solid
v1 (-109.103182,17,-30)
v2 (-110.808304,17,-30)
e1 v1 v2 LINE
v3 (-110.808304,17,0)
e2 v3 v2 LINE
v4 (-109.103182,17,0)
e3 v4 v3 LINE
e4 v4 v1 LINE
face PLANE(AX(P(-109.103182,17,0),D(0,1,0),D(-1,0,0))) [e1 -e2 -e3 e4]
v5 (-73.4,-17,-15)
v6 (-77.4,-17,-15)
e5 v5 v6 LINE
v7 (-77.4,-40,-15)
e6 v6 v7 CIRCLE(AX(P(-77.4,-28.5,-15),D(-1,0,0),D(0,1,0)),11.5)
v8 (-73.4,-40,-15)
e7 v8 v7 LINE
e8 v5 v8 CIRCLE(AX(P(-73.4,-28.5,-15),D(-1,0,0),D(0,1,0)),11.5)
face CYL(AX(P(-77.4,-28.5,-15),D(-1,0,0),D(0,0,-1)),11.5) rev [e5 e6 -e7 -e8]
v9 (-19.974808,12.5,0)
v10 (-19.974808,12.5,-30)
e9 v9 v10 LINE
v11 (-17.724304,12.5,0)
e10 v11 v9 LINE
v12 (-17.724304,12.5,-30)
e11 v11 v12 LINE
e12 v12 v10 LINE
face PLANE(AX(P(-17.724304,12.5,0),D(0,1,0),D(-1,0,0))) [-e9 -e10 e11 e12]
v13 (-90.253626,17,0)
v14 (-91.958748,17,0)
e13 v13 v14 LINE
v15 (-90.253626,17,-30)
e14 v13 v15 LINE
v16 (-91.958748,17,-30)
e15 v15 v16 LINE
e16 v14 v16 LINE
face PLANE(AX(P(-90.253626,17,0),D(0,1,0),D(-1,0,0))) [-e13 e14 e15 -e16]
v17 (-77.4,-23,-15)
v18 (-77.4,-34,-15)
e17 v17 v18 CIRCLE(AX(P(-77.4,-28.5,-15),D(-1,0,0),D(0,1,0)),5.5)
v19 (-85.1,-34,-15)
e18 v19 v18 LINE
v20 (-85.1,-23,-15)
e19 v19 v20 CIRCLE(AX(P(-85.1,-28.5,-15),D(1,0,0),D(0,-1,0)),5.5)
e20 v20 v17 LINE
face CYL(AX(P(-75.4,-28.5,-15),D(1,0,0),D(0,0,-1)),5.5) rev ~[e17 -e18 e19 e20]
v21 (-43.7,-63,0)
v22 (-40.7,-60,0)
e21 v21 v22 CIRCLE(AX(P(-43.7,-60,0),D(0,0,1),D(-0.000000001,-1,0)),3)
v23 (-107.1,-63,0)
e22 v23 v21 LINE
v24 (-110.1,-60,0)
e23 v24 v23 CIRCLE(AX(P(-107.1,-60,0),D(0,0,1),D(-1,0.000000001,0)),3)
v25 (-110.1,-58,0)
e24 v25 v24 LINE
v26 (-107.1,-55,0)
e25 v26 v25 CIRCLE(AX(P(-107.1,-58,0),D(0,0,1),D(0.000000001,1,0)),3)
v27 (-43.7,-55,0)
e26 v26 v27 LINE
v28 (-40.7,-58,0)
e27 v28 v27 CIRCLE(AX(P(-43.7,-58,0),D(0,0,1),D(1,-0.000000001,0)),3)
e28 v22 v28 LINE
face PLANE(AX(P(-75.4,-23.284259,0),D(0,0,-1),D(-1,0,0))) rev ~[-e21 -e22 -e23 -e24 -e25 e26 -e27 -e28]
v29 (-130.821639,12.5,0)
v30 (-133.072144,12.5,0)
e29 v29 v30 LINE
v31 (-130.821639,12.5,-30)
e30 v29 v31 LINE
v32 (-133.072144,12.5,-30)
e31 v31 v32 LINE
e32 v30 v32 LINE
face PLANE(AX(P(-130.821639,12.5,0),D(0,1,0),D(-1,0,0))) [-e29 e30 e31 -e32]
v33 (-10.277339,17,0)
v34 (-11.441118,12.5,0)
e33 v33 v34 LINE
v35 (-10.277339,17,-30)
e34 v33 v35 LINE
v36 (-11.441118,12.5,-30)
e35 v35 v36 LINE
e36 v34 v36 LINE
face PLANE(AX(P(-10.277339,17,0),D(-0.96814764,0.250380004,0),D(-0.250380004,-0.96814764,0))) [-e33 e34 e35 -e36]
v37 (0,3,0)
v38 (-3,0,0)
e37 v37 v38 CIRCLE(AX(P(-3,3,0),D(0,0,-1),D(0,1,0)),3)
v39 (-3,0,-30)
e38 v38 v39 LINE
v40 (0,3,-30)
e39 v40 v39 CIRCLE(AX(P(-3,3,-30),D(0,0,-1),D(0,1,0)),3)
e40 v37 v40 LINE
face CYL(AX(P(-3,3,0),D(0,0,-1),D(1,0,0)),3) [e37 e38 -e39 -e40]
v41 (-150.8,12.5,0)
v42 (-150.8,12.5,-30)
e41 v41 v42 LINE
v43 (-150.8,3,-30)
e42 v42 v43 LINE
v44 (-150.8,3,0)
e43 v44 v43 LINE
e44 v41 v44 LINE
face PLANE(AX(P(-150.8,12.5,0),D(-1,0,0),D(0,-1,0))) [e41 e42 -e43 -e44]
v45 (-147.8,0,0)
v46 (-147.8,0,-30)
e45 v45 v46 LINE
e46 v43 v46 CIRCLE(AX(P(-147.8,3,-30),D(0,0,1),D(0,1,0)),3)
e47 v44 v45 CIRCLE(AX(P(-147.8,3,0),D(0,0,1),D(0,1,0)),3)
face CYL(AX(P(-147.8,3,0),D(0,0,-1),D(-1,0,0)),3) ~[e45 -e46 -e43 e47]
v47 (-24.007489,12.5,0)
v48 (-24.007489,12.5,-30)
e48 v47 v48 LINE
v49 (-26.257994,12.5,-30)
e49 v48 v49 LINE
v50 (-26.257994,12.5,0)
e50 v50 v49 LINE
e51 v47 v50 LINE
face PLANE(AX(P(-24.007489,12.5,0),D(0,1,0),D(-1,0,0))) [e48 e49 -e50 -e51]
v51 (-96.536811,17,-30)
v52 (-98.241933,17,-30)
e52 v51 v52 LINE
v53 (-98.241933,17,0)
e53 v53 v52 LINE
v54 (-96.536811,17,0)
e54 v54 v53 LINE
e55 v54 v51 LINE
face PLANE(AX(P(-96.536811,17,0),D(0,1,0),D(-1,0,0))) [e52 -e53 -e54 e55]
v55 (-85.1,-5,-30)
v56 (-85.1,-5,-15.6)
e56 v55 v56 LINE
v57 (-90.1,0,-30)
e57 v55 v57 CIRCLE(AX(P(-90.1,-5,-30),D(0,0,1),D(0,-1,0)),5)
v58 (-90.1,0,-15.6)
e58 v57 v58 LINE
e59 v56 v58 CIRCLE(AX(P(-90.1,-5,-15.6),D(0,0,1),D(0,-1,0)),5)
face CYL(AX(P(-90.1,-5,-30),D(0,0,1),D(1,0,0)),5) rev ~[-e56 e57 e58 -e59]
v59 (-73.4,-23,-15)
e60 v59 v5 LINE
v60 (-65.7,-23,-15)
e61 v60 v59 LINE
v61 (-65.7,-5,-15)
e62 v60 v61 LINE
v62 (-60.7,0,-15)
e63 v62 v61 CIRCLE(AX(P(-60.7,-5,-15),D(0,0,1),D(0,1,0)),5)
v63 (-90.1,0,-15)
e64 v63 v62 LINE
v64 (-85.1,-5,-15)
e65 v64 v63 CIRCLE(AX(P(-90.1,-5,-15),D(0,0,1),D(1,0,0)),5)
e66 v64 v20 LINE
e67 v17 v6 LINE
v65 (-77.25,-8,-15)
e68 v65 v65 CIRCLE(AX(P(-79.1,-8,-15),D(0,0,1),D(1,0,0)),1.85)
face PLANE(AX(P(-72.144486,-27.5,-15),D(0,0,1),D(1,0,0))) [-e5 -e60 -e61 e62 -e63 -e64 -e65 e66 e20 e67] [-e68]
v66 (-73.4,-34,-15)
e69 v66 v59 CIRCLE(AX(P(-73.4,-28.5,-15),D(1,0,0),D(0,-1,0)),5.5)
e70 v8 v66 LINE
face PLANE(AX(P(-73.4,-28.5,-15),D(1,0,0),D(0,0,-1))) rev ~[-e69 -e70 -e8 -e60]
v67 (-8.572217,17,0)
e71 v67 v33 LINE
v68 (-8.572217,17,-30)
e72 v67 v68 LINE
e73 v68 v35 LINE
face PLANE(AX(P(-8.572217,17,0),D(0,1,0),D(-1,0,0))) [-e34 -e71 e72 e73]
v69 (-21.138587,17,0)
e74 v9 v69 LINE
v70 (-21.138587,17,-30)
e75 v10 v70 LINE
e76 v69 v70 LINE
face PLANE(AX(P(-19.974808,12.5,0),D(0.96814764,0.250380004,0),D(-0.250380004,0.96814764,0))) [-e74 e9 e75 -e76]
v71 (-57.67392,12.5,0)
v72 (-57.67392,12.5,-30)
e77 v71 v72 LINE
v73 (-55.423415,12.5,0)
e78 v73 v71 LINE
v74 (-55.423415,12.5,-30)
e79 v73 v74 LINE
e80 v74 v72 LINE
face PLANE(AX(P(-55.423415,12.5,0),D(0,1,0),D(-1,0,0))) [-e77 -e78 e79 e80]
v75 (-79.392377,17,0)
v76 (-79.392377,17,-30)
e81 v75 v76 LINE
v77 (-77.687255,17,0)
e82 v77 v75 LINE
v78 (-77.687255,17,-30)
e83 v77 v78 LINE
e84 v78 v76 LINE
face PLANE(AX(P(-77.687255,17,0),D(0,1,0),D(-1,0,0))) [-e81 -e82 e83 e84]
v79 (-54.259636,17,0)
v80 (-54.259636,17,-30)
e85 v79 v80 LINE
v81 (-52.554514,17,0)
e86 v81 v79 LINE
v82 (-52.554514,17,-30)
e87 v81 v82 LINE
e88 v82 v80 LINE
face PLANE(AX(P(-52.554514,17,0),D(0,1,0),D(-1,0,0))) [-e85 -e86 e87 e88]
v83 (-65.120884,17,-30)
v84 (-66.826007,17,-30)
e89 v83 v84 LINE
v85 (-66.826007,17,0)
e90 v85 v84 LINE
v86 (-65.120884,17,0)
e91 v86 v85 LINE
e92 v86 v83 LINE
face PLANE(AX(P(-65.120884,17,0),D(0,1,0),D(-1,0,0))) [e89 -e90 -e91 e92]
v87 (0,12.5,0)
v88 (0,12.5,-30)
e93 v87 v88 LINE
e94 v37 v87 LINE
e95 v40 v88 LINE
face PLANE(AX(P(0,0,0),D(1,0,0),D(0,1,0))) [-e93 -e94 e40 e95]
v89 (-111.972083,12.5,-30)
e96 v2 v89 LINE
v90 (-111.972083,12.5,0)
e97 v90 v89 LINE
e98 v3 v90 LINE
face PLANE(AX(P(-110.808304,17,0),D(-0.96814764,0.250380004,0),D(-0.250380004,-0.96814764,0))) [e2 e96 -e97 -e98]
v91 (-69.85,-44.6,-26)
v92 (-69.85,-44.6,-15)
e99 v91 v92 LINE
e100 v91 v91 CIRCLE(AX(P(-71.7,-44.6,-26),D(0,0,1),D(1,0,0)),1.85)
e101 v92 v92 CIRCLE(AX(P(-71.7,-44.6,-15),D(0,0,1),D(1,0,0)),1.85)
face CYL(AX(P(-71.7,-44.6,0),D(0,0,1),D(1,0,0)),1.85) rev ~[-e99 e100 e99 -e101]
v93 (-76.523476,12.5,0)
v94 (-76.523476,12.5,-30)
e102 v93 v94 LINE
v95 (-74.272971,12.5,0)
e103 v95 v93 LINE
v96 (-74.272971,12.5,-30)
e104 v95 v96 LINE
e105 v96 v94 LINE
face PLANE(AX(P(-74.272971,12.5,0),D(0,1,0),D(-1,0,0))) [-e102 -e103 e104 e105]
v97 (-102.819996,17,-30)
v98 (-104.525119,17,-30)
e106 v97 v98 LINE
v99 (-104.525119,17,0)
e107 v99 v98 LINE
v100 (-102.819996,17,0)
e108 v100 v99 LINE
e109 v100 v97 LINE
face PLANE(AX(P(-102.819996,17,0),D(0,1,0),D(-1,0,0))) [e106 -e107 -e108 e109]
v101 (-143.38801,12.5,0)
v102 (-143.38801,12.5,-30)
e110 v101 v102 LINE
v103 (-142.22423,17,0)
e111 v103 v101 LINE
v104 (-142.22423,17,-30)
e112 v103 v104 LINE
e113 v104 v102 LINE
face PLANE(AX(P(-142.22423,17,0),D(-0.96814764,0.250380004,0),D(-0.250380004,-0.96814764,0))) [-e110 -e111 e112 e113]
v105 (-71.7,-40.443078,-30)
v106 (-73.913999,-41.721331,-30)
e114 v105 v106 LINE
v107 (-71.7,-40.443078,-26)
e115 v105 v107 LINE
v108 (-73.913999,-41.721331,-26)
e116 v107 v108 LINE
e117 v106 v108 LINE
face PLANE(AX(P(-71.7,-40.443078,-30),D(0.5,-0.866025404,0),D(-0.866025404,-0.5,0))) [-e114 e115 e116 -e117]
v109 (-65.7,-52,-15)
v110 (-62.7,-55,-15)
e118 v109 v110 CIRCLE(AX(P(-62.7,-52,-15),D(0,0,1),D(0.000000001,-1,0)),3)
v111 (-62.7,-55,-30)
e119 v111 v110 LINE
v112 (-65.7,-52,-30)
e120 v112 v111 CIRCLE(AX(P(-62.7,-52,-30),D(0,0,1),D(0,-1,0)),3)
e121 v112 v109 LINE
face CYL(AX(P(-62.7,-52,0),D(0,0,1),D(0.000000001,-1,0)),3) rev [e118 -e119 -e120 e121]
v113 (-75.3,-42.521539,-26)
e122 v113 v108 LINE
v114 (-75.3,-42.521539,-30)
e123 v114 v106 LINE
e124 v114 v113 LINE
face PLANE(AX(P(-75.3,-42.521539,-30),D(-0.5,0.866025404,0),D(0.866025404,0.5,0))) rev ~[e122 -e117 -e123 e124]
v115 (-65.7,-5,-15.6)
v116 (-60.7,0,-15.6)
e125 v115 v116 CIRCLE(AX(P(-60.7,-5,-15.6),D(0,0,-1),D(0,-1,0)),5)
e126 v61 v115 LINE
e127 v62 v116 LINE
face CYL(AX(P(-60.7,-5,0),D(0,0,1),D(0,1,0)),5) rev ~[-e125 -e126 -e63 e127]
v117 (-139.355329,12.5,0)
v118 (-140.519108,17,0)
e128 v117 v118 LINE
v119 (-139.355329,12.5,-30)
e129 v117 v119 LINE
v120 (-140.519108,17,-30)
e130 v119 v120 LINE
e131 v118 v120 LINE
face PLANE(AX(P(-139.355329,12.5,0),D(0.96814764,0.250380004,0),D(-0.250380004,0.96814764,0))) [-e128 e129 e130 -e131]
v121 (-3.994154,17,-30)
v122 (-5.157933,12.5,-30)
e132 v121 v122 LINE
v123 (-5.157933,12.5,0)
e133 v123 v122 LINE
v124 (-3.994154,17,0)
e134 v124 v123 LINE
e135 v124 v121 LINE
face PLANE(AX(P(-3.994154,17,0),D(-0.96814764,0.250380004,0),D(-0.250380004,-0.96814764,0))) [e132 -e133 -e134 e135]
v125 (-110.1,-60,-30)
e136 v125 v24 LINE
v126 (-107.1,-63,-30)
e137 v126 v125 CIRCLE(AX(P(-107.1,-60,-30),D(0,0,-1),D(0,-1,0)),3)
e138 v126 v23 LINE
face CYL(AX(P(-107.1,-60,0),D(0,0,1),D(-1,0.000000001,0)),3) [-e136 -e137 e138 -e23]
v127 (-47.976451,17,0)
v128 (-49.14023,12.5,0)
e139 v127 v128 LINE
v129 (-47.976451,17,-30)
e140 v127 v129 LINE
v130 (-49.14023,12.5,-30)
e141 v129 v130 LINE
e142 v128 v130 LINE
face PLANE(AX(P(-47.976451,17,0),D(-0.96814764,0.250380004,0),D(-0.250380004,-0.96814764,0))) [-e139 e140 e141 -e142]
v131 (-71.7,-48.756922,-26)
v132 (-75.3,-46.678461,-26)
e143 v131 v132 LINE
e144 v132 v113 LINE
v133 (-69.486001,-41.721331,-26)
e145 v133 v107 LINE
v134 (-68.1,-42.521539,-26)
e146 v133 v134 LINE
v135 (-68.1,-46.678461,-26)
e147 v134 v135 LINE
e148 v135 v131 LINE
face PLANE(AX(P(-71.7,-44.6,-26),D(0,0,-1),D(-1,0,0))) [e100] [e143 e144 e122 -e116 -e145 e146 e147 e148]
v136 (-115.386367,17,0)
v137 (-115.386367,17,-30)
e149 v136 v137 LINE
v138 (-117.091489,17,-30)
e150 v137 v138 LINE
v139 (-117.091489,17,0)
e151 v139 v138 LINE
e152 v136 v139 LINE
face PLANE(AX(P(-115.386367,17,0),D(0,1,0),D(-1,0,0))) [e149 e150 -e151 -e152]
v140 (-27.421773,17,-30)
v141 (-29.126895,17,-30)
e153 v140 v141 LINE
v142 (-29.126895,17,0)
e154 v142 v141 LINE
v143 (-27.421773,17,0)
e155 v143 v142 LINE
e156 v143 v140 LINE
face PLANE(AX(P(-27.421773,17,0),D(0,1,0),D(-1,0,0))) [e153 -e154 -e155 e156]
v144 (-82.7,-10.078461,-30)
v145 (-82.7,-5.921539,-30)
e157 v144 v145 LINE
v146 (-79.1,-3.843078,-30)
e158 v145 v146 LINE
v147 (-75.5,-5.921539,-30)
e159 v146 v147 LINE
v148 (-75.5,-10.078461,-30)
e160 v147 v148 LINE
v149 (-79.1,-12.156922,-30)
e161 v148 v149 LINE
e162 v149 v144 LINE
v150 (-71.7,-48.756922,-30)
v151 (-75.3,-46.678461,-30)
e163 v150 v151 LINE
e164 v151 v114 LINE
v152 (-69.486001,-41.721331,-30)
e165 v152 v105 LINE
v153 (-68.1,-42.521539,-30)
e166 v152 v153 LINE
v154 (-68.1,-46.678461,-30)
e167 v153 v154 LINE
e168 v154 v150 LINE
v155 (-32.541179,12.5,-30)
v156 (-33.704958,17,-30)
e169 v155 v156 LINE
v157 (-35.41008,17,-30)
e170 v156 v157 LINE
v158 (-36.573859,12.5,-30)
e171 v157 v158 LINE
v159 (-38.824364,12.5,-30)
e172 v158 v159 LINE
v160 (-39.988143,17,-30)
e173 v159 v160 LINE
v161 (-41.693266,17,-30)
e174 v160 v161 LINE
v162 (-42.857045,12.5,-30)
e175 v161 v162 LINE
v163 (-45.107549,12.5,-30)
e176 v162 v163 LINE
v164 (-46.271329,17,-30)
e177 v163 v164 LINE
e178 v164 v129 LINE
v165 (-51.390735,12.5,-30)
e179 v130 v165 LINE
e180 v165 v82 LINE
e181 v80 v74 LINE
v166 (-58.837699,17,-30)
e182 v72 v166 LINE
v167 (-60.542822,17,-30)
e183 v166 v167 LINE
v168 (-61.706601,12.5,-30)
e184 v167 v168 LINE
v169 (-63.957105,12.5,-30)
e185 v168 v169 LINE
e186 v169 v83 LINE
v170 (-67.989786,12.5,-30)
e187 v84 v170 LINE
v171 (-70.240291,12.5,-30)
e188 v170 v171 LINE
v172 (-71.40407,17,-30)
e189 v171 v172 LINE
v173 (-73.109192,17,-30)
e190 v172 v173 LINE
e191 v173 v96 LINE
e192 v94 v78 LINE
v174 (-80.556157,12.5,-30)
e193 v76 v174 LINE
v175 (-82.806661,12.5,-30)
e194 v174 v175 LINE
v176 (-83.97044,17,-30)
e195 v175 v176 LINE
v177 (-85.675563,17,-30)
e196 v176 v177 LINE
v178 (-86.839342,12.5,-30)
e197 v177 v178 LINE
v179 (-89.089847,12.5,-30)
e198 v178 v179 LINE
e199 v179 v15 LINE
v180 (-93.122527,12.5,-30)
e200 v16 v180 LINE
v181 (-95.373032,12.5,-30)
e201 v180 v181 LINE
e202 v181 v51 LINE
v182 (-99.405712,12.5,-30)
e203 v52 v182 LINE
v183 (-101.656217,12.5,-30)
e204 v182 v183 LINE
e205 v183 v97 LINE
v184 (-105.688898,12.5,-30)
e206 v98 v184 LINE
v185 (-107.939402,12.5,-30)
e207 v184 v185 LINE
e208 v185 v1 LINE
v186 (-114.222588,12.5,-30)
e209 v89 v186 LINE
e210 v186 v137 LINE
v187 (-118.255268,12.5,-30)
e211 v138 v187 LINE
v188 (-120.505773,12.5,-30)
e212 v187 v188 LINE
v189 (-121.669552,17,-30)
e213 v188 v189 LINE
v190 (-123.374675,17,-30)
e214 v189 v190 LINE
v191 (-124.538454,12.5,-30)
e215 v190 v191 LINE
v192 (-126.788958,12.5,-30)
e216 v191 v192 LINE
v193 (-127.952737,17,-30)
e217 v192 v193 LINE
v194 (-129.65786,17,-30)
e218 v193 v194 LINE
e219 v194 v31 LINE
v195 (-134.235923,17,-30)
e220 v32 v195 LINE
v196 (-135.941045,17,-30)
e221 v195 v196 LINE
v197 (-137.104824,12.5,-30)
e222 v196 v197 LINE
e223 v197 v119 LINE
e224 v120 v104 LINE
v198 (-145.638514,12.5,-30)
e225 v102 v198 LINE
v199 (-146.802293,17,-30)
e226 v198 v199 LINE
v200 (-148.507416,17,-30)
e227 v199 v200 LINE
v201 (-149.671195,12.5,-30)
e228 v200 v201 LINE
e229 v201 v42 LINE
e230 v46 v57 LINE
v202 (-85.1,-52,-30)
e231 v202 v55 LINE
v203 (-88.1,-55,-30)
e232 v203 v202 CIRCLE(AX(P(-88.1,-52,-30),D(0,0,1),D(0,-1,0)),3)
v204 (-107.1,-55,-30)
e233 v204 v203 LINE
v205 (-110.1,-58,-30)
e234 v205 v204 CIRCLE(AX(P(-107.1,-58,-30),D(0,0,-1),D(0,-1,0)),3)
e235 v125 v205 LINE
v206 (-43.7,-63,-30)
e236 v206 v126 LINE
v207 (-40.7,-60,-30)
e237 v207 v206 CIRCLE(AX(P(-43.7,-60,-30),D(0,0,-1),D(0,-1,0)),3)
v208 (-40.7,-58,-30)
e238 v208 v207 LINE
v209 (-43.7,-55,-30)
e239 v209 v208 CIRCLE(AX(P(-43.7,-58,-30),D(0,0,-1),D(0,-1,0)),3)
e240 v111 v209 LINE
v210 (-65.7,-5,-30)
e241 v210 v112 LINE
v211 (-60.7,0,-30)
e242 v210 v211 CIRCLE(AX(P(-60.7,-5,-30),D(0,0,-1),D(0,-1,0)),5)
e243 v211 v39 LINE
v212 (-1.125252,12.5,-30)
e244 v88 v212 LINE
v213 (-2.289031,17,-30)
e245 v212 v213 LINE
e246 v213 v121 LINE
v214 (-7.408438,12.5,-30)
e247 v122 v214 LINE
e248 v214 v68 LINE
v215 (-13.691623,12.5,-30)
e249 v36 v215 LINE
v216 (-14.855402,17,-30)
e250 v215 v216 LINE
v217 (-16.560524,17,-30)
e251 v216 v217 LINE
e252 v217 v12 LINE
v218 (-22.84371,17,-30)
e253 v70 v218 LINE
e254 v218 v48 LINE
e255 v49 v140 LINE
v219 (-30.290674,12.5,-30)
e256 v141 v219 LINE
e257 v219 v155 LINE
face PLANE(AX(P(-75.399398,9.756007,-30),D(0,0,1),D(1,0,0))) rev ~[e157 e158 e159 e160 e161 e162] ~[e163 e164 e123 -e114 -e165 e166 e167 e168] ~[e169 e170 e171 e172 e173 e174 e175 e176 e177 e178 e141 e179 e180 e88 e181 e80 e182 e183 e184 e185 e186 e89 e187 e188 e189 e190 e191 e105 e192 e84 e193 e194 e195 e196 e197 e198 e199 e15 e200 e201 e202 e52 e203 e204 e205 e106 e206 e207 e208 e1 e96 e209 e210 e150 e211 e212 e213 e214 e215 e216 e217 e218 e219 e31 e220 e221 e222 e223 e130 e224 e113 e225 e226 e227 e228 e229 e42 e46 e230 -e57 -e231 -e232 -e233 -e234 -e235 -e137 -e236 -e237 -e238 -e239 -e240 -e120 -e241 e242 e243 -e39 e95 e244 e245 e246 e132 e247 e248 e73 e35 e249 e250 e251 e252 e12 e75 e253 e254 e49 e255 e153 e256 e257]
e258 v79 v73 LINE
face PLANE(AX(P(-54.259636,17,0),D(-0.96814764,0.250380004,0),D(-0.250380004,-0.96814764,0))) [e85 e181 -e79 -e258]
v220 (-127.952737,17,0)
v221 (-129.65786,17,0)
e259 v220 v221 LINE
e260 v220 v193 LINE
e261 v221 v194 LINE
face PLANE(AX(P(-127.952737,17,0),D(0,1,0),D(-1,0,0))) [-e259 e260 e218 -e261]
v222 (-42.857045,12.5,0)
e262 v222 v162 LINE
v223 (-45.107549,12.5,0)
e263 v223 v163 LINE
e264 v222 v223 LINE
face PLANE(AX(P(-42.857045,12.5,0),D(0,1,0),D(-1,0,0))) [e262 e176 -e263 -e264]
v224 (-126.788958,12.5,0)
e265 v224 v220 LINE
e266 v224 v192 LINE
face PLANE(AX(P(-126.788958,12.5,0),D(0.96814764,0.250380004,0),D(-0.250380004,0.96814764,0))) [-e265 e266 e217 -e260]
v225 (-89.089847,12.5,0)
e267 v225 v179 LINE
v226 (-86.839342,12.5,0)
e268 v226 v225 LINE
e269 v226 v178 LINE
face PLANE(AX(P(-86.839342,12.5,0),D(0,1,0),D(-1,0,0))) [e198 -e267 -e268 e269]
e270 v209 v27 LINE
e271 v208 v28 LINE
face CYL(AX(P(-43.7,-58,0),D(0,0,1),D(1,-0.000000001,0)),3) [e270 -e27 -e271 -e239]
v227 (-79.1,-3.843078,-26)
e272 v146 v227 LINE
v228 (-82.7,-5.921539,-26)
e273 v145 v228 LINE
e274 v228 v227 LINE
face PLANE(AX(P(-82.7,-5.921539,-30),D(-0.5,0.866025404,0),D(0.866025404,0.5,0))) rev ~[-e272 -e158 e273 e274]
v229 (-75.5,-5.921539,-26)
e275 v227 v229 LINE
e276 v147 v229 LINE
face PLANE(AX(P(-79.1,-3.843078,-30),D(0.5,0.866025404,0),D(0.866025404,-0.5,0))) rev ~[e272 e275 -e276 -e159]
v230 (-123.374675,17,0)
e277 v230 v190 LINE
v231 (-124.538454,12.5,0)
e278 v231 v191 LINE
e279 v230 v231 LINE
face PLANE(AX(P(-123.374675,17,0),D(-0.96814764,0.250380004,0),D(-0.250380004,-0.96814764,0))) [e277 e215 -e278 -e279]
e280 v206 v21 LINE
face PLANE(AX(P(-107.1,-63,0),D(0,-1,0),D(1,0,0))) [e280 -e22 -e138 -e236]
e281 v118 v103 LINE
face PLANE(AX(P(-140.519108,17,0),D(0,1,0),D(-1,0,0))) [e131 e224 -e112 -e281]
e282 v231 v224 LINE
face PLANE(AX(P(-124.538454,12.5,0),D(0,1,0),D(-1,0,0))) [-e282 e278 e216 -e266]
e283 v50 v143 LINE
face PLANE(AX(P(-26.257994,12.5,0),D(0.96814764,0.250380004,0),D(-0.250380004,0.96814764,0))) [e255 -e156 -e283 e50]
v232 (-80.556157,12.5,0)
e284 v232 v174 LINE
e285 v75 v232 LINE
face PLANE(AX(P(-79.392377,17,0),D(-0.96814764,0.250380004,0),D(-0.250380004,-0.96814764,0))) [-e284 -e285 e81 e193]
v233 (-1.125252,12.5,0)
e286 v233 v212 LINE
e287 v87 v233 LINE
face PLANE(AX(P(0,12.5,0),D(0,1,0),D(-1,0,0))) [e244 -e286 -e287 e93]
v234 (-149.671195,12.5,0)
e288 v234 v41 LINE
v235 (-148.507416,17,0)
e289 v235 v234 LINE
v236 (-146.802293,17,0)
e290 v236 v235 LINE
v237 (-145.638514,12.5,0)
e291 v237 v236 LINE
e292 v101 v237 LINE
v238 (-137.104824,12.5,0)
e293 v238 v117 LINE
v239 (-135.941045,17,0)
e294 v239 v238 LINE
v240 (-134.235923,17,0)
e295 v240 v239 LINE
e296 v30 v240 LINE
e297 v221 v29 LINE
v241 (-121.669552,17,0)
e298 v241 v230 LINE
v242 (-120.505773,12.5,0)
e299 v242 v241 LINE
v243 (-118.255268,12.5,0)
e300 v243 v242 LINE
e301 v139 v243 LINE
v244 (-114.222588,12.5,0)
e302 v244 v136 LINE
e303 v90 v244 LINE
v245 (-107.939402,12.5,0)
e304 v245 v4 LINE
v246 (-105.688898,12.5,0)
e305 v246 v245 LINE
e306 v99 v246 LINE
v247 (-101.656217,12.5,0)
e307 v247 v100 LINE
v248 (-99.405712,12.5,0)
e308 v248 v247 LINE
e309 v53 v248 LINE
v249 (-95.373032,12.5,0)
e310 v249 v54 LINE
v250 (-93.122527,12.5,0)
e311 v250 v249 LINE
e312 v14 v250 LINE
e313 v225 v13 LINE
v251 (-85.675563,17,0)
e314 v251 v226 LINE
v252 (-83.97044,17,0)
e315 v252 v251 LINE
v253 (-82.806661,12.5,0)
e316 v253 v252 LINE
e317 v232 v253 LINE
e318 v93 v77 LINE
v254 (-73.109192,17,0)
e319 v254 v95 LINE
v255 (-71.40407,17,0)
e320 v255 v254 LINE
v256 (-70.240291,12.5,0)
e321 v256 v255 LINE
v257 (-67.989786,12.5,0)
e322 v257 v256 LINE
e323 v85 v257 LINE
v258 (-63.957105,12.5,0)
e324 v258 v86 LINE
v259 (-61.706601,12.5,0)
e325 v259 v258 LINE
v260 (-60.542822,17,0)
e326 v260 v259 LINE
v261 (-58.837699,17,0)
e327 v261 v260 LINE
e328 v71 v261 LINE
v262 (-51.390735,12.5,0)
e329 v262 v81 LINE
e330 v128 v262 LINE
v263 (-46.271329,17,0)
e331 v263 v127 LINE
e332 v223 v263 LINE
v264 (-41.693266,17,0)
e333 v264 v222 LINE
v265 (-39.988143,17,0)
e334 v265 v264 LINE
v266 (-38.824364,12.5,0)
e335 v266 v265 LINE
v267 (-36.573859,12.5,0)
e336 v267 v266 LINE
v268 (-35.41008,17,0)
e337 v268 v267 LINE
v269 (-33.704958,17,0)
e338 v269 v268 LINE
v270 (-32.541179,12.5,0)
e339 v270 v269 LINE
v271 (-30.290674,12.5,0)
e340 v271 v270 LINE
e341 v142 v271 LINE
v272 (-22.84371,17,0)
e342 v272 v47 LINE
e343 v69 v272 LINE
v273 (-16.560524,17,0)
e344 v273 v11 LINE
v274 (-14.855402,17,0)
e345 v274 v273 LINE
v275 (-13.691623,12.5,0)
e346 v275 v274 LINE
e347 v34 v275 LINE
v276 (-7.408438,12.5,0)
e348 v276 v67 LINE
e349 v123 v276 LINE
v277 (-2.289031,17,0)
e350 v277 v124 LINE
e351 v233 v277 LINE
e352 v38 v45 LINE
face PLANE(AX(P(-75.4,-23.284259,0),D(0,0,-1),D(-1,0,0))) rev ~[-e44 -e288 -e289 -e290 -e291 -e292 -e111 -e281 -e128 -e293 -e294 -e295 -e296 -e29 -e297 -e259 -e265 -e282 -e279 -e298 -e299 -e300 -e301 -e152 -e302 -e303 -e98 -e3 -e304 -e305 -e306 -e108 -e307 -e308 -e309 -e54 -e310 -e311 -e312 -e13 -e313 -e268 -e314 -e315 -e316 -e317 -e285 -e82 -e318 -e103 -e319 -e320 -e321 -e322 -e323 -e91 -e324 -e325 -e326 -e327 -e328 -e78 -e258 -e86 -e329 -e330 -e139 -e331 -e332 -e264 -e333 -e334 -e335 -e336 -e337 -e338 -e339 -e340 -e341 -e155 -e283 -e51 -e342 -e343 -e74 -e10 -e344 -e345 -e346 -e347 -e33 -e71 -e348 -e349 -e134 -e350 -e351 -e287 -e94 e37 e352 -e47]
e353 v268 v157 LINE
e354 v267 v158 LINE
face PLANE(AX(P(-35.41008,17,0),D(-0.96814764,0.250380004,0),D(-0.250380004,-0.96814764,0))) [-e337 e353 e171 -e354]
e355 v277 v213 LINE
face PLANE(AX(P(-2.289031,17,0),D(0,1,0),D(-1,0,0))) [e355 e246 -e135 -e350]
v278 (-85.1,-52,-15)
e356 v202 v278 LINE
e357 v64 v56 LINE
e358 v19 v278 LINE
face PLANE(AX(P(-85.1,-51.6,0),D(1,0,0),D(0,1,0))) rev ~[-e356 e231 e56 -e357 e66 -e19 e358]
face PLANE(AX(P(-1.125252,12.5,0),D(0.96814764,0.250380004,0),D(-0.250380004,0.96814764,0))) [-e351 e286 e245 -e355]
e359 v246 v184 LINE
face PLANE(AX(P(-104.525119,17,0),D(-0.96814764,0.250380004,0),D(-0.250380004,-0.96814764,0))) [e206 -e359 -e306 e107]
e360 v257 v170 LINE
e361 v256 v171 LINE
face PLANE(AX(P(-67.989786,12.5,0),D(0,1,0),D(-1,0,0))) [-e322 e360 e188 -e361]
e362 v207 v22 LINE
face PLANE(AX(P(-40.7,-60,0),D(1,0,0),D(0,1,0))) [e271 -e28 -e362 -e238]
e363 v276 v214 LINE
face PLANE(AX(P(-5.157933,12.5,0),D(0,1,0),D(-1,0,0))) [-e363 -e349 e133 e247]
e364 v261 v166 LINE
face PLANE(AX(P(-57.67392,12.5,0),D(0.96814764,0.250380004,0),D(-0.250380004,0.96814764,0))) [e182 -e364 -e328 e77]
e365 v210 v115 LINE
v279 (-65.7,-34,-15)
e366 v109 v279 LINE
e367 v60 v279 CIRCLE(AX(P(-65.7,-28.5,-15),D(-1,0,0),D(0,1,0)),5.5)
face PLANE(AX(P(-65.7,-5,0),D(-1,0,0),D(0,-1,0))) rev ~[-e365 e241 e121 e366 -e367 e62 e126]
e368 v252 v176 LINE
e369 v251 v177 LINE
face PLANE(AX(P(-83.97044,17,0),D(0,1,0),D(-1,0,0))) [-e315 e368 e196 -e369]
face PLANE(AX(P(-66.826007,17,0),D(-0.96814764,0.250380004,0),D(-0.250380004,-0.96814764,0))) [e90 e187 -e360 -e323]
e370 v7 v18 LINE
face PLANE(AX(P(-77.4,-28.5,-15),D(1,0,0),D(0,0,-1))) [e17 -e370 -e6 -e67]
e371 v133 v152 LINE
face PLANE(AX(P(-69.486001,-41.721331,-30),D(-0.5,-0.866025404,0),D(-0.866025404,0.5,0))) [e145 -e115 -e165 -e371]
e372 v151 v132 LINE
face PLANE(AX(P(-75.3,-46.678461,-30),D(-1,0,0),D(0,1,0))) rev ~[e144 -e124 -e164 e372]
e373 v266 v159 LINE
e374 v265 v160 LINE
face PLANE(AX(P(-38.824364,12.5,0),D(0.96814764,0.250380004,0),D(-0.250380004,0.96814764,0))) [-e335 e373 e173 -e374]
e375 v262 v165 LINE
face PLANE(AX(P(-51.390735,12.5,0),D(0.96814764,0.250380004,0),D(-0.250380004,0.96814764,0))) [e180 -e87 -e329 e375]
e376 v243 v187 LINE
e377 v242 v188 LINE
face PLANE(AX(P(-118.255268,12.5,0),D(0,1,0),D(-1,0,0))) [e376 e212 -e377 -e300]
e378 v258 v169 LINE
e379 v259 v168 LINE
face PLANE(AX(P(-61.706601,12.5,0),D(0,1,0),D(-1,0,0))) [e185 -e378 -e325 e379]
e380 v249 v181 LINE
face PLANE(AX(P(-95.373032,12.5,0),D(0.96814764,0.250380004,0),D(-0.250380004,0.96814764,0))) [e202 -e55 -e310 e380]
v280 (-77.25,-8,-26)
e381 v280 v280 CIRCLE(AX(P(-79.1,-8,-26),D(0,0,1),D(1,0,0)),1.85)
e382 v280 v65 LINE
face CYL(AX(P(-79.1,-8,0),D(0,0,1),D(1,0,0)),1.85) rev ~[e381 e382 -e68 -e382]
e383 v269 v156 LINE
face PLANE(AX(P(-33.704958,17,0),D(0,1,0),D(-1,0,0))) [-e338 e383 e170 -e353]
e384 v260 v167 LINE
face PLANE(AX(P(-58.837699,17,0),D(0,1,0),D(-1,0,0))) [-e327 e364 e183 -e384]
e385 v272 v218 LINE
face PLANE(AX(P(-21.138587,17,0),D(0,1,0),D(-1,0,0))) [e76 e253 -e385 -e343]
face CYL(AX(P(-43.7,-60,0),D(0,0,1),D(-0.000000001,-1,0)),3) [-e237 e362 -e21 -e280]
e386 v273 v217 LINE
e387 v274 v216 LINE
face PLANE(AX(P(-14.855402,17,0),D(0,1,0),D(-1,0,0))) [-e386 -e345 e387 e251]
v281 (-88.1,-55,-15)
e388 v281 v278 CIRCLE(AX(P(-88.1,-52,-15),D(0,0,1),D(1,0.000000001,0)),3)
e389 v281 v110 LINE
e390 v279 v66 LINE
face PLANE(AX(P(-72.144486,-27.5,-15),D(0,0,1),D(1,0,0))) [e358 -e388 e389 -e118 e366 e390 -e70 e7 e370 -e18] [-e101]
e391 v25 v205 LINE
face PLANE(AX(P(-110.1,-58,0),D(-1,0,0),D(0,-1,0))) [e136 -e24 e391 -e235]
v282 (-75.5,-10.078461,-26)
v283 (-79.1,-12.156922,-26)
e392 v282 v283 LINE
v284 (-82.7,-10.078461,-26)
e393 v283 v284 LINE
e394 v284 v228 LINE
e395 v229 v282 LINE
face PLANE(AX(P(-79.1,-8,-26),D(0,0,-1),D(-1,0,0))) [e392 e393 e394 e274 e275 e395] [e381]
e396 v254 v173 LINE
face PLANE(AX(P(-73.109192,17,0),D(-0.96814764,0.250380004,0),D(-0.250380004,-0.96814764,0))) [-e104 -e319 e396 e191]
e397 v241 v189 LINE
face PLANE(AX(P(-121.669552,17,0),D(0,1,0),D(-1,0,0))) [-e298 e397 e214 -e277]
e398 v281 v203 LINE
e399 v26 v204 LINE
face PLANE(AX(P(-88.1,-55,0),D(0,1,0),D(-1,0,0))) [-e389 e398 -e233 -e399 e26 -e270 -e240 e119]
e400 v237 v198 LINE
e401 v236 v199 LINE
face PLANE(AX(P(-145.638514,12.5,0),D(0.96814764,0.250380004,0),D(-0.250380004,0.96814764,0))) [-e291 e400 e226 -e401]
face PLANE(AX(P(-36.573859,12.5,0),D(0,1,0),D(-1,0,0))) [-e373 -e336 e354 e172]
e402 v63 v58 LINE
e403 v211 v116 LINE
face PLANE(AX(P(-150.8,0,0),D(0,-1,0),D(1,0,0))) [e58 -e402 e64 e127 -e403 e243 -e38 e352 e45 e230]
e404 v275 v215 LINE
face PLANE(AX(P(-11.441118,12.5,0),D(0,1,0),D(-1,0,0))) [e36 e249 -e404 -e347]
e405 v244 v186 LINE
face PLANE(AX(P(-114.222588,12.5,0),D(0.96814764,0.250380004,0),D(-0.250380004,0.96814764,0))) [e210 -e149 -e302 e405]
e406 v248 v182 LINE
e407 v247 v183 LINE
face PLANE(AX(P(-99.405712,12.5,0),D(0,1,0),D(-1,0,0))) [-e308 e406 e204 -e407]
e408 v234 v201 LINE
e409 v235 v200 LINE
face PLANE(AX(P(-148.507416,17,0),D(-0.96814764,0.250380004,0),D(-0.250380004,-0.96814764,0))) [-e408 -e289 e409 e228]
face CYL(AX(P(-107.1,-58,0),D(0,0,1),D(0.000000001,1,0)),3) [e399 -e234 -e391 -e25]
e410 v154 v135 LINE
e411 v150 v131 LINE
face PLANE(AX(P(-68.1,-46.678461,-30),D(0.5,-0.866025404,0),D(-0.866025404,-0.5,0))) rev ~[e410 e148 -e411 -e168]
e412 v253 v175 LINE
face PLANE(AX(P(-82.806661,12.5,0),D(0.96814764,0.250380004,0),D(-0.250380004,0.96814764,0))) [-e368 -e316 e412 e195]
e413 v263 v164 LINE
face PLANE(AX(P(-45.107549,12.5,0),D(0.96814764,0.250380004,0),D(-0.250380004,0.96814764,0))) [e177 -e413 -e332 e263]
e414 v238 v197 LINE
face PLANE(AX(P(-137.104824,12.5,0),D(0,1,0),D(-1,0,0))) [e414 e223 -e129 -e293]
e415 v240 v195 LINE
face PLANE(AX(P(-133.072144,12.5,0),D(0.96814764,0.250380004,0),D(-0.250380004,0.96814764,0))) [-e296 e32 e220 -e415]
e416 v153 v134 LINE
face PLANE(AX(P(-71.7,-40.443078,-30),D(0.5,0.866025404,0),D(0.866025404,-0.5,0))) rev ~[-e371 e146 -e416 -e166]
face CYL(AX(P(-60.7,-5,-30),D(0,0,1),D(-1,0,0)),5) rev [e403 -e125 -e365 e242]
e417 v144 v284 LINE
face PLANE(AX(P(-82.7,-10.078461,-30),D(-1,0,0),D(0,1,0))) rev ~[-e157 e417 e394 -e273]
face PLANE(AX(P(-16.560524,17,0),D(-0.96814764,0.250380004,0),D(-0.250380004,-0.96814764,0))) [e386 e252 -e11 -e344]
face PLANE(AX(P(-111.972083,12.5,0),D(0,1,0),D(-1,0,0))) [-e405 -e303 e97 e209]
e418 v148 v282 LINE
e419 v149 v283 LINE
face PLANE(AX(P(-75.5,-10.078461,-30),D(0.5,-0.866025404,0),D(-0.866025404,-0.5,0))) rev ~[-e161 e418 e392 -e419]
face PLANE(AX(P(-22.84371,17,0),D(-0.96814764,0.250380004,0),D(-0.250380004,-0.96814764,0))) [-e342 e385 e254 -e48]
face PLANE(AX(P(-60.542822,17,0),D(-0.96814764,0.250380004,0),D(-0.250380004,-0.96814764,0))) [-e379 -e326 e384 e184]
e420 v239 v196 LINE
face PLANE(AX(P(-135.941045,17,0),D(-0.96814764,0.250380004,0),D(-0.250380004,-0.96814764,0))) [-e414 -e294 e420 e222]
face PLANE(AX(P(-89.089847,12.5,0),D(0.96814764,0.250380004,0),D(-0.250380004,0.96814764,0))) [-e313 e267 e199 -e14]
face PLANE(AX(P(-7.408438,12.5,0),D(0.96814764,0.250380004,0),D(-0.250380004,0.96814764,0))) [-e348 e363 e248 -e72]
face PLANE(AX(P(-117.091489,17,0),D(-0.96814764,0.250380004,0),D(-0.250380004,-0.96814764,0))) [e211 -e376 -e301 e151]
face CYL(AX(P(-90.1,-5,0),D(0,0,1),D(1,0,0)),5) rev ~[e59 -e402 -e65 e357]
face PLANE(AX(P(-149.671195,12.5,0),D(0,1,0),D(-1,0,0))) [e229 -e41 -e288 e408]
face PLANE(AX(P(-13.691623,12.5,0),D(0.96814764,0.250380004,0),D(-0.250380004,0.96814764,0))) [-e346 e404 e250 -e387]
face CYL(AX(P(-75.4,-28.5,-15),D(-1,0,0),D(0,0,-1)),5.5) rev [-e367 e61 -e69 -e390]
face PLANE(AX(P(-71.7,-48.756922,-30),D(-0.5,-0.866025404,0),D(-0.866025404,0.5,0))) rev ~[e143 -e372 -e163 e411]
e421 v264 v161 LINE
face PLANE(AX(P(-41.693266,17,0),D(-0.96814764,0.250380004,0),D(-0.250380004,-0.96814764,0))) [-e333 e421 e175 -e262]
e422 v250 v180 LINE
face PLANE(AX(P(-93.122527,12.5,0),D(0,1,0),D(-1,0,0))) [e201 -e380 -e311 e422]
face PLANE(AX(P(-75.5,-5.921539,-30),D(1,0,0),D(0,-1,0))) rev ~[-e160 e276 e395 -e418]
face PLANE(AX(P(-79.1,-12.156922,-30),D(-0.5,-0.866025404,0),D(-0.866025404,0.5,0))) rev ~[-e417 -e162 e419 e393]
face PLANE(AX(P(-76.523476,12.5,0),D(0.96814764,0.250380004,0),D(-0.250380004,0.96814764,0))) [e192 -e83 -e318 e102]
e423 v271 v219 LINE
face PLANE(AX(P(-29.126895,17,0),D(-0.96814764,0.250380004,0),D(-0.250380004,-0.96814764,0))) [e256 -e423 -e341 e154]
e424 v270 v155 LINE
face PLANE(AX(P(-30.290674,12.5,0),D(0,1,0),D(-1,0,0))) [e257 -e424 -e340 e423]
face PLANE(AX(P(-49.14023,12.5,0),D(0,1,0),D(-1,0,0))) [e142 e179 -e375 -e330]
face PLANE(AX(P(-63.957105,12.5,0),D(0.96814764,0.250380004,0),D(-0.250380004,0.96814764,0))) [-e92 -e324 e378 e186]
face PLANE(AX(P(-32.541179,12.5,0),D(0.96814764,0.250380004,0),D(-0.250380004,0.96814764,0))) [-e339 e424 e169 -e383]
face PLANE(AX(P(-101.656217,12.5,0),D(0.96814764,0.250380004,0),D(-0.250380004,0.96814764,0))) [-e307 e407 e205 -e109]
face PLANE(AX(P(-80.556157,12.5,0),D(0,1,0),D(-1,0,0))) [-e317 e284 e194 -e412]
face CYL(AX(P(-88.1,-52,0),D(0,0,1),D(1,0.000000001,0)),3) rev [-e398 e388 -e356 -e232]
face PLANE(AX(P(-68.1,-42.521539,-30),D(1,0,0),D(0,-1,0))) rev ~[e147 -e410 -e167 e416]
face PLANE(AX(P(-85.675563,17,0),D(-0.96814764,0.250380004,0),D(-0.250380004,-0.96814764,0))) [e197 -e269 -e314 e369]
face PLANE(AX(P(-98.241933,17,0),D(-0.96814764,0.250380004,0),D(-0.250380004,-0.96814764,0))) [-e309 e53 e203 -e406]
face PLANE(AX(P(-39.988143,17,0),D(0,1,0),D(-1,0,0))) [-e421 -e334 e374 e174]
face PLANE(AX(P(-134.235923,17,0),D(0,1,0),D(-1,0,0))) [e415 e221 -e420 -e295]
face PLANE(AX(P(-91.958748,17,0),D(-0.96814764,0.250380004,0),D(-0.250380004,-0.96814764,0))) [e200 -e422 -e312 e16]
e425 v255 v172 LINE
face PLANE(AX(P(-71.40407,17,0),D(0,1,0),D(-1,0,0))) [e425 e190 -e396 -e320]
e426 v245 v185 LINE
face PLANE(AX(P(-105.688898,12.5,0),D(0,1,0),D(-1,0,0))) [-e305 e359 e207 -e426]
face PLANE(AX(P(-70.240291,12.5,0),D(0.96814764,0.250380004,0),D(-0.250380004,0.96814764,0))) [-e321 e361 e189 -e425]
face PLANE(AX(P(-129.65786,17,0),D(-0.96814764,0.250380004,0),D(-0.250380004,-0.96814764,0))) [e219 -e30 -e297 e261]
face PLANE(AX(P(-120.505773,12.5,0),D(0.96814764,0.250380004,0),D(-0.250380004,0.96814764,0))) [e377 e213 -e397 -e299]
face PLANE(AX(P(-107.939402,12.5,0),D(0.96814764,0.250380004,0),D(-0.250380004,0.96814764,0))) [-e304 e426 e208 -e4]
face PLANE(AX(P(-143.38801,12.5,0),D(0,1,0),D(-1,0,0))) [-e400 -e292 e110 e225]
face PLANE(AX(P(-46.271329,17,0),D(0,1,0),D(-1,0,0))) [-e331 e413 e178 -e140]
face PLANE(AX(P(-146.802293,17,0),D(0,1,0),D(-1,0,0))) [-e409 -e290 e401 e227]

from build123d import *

# Parameters (mm, degrees)
RESSALTO_EXTRUS_O1_DEPTH          = 30
RESSALTO_EXTRUS_O2_DEPTH          = 30
ESBO_O3_W                         = 19.4
ESBO_O3_H                         = 3.2
CORTE_EXTRUS_O1_DEPTH             = 23.85
ESBO_O4_W                         = 5.4
ESBO_O4_H                         = 23.8
CORTE_EXTRUS_O2_DEPTH             = 26.5
ESBO_O5_W                         = 19.4
ESBO_O5_H                         = 53
CORTE_EXTRUS_O3_DEPTH             = 15.6
FILETE1_R                         = 5
ESBO_O6_W                         = 69.4
ESBO_O6_H                         = 15.6
CORTE_EXTRUS_O4_DEPTH             = 10
FILETE2_R                         = 3
RESSALTO_EXTRUS_O3_START          = 15.6
RESSALTO_EXTRUS_O3_DEPTH          = 15.6
ESBO_O8_R                         = 1.85
CORTE_EXTRUS_O5_DEPTH             = 165.173688513
CORTE_EXTRUS_O6_DEPTH             = 4
ESBO_O10_W                        = 14.4
ESBO_O10_H                        = 28.961678943
RESSALTO_EXTRUS_O4_DEPTH          = 19.4
RESSALTO_EXTRUS_O5_START          = 15.6
ESBO_O11_R                        = 1.85
RESSALTO_EXTRUS_O5_DEPTH          = 15.6
ESBO_O12_W                        = 35.911027454
ESBO_O12_H                        = 55
CORTE_EXTRUS_O7_DEPTH             = 15
CORTE_EXTRUS_O8_DEPTH             = 2
CORTE_EXTRUS_O8_DEPTH_BACK        = 2
ESBO_O13_R                        = 11.5
CORTE_EXTRUS_O9_REACH             = 104.733
ESBO_O14_R                        = 5.5
CORTE_EXTRUS_O9_DIRECTION_2_REACH = 104.733
CORTE_EXTRUS_O10_DEPTH            = 4


with BuildPart() as part:
    # Esboço1 → Ressalto-extrusão1 (new body)
    with BuildSketch(Plane.XY):
        Polygon((-148.507415706, 17), (-149.671194836, 12.5), (-150.8, 12.5), (-150.8, 0), (0, 0), (0, 12.5), (-1.125252364, 12.5), (-2.289031494, 17), (-3.994153806, 17), (-5.157932936, 12.5), (-7.408437664, 12.5), (-8.572216794, 17), (-10.277339106, 17), (-11.441118236, 12.5), (-13.691622964, 12.5), (-14.855402094, 17), (-16.560524406, 17), (-17.724303536, 12.5), (-19.974808264, 12.5), (-21.138587394, 17), (-22.843709706, 17), (-24.007488836, 12.5), (-26.257993564, 12.5), (-27.421772694, 17), (-29.126895006, 17), (-30.290674136, 12.5), (-32.541178864, 12.5), (-33.704957994, 17), (-35.410080306, 17), (-36.573859436, 12.5), (-38.824364164, 12.5), (-39.988143294, 17), (-41.693265606, 17), (-42.857044736, 12.5), (-45.107549464, 12.5), (-46.271328594, 17), (-47.976450906, 17), (-49.140230036, 12.5), (-51.390734764, 12.5), (-52.554513894, 17), (-54.259636206, 17), (-55.423415336, 12.5), (-57.673920064, 12.5), (-58.837699194, 17), (-60.542821506, 17), (-61.706600636, 12.5), (-63.957105364, 12.5), (-65.120884494, 17), (-66.826006806, 17), (-67.989785936, 12.5), (-70.240290664, 12.5), (-71.404069794, 17), (-73.109192106, 17), (-74.272971236, 12.5), (-76.523475964, 12.5), (-77.687255094, 17), (-79.392377406, 17), (-80.556156536, 12.5), (-82.806661264, 12.5), (-83.970440394, 17), (-85.675562706, 17), (-86.839341836, 12.5), (-89.089846564, 12.5), (-90.253625694, 17), (-91.958748006, 17), (-93.122527136, 12.5), (-95.373031864, 12.5), (-96.536810994, 17), (-98.241933306, 17), (-99.405712436, 12.5), (-101.656217164, 12.5), (-102.819996294, 17), (-104.525118606, 17), (-105.688897736, 12.5), (-107.939402464, 12.5), (-109.103181594, 17), (-110.808303906, 17), (-111.972083036, 12.5), (-114.222587764, 12.5), (-115.386366894, 17), (-117.091489206, 17), (-118.255268336, 12.5), (-120.505773064, 12.5), (-121.669552194, 17), (-123.374674506, 17), (-124.538453636, 12.5), (-126.788958364, 12.5), (-127.952737494, 17), (-129.657859806, 17), (-130.821638936, 12.5), (-133.072143664, 12.5), (-134.235922794, 17), (-135.941045106, 17), (-137.104824236, 12.5), (-139.355328964, 12.5), (-140.519108094, 17), (-142.224230406, 17), (-143.388009536, 12.5), (-145.638514264, 12.5), (-146.802293394, 17), align=None)
    extrude(amount=-RESSALTO_EXTRUS_O1_DEPTH)

    # Esboço2 → Ressalto-extrusão2 (add)
    with BuildSketch(Plane(origin=(0, 0, -30), x_dir=(-1, 0, 0), z_dir=(0, 0, -1))):
        Polygon((85.1, 0), (65.7, 0), (65.7, -55), (40.7, -55), (40.7, -63), (110.1, -63), (110.1, -55), (85.1, -55), align=None)
    extrude(amount=-RESSALTO_EXTRUS_O2_DEPTH)

    # Esboço3 → Corte-extrusão1 (cut)
    with BuildSketch(Plane.XY):
        with Locations((-75.4, -29)):
            Rectangle(ESBO_O3_W, ESBO_O3_H)
    extrude(amount=-CORTE_EXTRUS_O1_DEPTH, mode=Mode.SUBTRACT)

    # Esboço4 → Corte-extrusão2 (cut)
    with BuildSketch(Plane.XY):
        with Locations((-75.4, -29)):
            Rectangle(ESBO_O4_W, ESBO_O4_H)
    extrude(amount=-CORTE_EXTRUS_O2_DEPTH, mode=Mode.SUBTRACT)

    # Esboço5 → Corte-extrusão3 (cut)
    with BuildSketch(Plane.XY):
        with Locations((-75.4, -26.5)):
            Rectangle(ESBO_O5_W, ESBO_O5_H)
    extrude(amount=-CORTE_EXTRUS_O3_DEPTH, mode=Mode.SUBTRACT)

    # Filete1
    filete1_edges = [part.edges().sort_by_distance(p)[0] for p in [
        (-85.1, 0, -22.8),
        (-65.7, 0, -22.8),
    ]]
    fillet(filete1_edges, radius=FILETE1_R)

    # Esboço6 → Corte-extrusão4 (cut)
    with BuildSketch(Plane.XZ.offset(63)):
        with Locations((-75.4, -7.8)):
            Rectangle(ESBO_O6_W, ESBO_O6_H)
    extrude(amount=-CORTE_EXTRUS_O4_DEPTH, mode=Mode.SUBTRACT)

    # Filete2
    filete2_edges = [part.edges().sort_by_distance(p)[0] for p in [
        (0, 0, -15),
        (-150.8, 0, -15),
        (-85.1, -55, -22.8),
        (-110.1, -55, -22.8),
        (-110.1, -63, -22.8),
        (-40.7, -63, -22.8),
        (-40.7, -55, -22.8),
        (-65.7, -55, -22.8),
    ]]
    fillet(filete2_edges, radius=FILETE2_R)

    # Esboço7 → Ressalto-extrusão3 (add)
    with BuildSketch(Plane.XY.offset(-15.6).offset(RESSALTO_EXTRUS_O3_START)):
        with BuildLine():
            Line((-110.1, -58), (-110.1, -60))
            ThreePointArc((-110.1, -60), (-109.221320344, -62.121320344), (-107.1, -63))
            Line((-107.1, -63), (-43.7, -63))
            ThreePointArc((-43.7, -63), (-41.578679656, -62.121320344), (-40.7, -60))
            Line((-40.7, -60), (-40.7, -58))
            ThreePointArc((-40.7, -58), (-41.578679656, -55.878679656), (-43.7, -55))
            Line((-43.7, -55), (-62.7, -55))
            ThreePointArc((-62.7, -55), (-64.821320344, -54.121320344), (-65.7, -52))
            Line((-65.7, -52), (-65.7, -51.6))
            Line((-65.7, -51.6), (-85.1, -51.6))
            Line((-85.1, -51.6), (-85.1, -52))
            ThreePointArc((-85.1, -52), (-85.978679656, -54.121320344), (-88.1, -55))
            Line((-88.1, -55), (-107.1, -55))
            ThreePointArc((-107.1, -55), (-109.221320344, -55.878679656), (-110.1, -58))
        make_face()
    extrude(amount=-RESSALTO_EXTRUS_O3_DEPTH)

    # Esboço8 → Corte-extrusão5 (cut, through all)
    with BuildSketch(Plane.XY.offset(-15.6)):
        with Locations((-79.1, -8)):
            Circle(ESBO_O8_R)
        with Locations((-71.7, -44.6)):
            Circle(ESBO_O8_R)
    extrude(amount=-CORTE_EXTRUS_O5_DEPTH, mode=Mode.SUBTRACT)

    # Esboço9 → Corte-extrusão6 (cut)
    with BuildSketch(Plane(origin=(0, 0, -30), x_dir=(-1, 0, 0), z_dir=(0, 0, -1))):
        Polygon((79.1, -3.843078062), (75.5, -5.921539031), (75.5, -10.078460969), (79.1, -12.156921938), (82.7, -10.078460969), (82.7, -5.921539031), align=None)
        Polygon((71.7, -40.443078062), (68.1, -42.521539031), (68.1, -46.678460969), (71.7, -48.756921938), (75.3, -46.678460969), (75.3, -42.521539031), align=None)
    extrude(amount=-CORTE_EXTRUS_O6_DEPTH, mode=Mode.SUBTRACT)

    # Esboço10 → Ressalto-extrusão4 (add)
    with BuildSketch(Plane(origin=(-65.7, 0, 0), x_dir=(0, 0, -1), z_dir=(1, 0, 0))):
        with Locations((22.8, -27.2404917)):
            Rectangle(ESBO_O10_W, ESBO_O10_H)
    extrude(amount=-RESSALTO_EXTRUS_O4_DEPTH)

    # Esboço11 → Ressalto-extrusão5 (add)
    with BuildSketch(Plane.XY.offset(-15.6).offset(RESSALTO_EXTRUS_O5_START)):
        with BuildLine():
            Line((-90.1, 0), (-60.7, 0))
            ThreePointArc((-60.7, 0), (-64.235533906, -1.464466094), (-65.7, -5))
            Line((-65.7, -5), (-65.7, -51.6))
            Line((-65.7, -51.6), (-85.1, -51.6))
            Line((-85.1, -51.6), (-85.1, -5))
            ThreePointArc((-85.1, -5), (-86.564466094, -1.464466094), (-90.1, 0))
        make_face()
        with Locations((-79.1, -8)):
            Circle(ESBO_O11_R, mode=Mode.SUBTRACT)
        with Locations((-71.7, -44.6)):
            Circle(ESBO_O11_R, mode=Mode.SUBTRACT)
    extrude(amount=-RESSALTO_EXTRUS_O5_DEPTH)

    # Esboço12 → Corte-extrusão7 (cut)
    with BuildSketch(Plane.XY):
        with Locations((-72.144486273, -27.5)):
            Rectangle(ESBO_O12_W, ESBO_O12_H)
    extrude(amount=-CORTE_EXTRUS_O7_DEPTH, mode=Mode.SUBTRACT)

    # Esboço13 → Corte-extrusão8 (cut, two sides: drawn at the far end of the back side and taken through both)
    with BuildSketch(Plane(origin=(-75.4, 0, 0), x_dir=(0, 0, -1), z_dir=(1, 0, 0)).offset(-CORTE_EXTRUS_O8_DEPTH_BACK)):
        with Locations((15, -28.5)):
            Circle(ESBO_O13_R)
    extrude(amount=CORTE_EXTRUS_O8_DEPTH + CORTE_EXTRUS_O8_DEPTH_BACK, mode=Mode.SUBTRACT)

    # Esboço14 → Corte-extrusão9 (cut, up to next)
    with BuildSketch(Plane(origin=(-75.4, 0, 0), x_dir=(0, 0, -1), z_dir=(1, 0, 0)), mode=Mode.PRIVATE) as corte_extrus_o9_sk1:
        with Locations((15, -28.5)):
            Circle(ESBO_O14_R)
    corte_extrus_o9_tool1 = extrude(corte_extrus_o9_sk1.sketch, amount=-CORTE_EXTRUS_O9_REACH, mode=Mode.PRIVATE) & part.part
    add(corte_extrus_o9_tool1.solids().sort_by_distance((-75.4, -28.5, -15))[0], mode=Mode.SUBTRACT)

    # Esboço14 → Corte-extrusão9 direction 2 (cut, up to next)
    with BuildSketch(Plane(origin=(-75.4, 0, 0), x_dir=(0, 0, -1), z_dir=(1, 0, 0)), mode=Mode.PRIVATE) as corte_extrus_o9_direction_2_sk1:
        with Locations((15, -28.5)):
            Circle(ESBO_O14_R)
    corte_extrus_o9_direction_2_tool1 = extrude(corte_extrus_o9_direction_2_sk1.sketch, amount=CORTE_EXTRUS_O9_DIRECTION_2_REACH, mode=Mode.PRIVATE) & part.part
    add(corte_extrus_o9_direction_2_tool1.solids().sort_by_distance((-75.4, -28.5, -15))[0], mode=Mode.SUBTRACT)

    # Esboço15 → Corte-extrusão10 (cut)
    with BuildSketch(Plane(origin=(0, 0, -30), x_dir=(-1, 0, 0), z_dir=(0, 0, -1))):
        Polygon((69.486000671, -41.721331171), (71.7, -40.443078062), (73.913999329, -41.721331171), align=None)
    extrude(amount=-CORTE_EXTRUS_O10_DEPTH, mode=Mode.SUBTRACT)


solid = part.part
